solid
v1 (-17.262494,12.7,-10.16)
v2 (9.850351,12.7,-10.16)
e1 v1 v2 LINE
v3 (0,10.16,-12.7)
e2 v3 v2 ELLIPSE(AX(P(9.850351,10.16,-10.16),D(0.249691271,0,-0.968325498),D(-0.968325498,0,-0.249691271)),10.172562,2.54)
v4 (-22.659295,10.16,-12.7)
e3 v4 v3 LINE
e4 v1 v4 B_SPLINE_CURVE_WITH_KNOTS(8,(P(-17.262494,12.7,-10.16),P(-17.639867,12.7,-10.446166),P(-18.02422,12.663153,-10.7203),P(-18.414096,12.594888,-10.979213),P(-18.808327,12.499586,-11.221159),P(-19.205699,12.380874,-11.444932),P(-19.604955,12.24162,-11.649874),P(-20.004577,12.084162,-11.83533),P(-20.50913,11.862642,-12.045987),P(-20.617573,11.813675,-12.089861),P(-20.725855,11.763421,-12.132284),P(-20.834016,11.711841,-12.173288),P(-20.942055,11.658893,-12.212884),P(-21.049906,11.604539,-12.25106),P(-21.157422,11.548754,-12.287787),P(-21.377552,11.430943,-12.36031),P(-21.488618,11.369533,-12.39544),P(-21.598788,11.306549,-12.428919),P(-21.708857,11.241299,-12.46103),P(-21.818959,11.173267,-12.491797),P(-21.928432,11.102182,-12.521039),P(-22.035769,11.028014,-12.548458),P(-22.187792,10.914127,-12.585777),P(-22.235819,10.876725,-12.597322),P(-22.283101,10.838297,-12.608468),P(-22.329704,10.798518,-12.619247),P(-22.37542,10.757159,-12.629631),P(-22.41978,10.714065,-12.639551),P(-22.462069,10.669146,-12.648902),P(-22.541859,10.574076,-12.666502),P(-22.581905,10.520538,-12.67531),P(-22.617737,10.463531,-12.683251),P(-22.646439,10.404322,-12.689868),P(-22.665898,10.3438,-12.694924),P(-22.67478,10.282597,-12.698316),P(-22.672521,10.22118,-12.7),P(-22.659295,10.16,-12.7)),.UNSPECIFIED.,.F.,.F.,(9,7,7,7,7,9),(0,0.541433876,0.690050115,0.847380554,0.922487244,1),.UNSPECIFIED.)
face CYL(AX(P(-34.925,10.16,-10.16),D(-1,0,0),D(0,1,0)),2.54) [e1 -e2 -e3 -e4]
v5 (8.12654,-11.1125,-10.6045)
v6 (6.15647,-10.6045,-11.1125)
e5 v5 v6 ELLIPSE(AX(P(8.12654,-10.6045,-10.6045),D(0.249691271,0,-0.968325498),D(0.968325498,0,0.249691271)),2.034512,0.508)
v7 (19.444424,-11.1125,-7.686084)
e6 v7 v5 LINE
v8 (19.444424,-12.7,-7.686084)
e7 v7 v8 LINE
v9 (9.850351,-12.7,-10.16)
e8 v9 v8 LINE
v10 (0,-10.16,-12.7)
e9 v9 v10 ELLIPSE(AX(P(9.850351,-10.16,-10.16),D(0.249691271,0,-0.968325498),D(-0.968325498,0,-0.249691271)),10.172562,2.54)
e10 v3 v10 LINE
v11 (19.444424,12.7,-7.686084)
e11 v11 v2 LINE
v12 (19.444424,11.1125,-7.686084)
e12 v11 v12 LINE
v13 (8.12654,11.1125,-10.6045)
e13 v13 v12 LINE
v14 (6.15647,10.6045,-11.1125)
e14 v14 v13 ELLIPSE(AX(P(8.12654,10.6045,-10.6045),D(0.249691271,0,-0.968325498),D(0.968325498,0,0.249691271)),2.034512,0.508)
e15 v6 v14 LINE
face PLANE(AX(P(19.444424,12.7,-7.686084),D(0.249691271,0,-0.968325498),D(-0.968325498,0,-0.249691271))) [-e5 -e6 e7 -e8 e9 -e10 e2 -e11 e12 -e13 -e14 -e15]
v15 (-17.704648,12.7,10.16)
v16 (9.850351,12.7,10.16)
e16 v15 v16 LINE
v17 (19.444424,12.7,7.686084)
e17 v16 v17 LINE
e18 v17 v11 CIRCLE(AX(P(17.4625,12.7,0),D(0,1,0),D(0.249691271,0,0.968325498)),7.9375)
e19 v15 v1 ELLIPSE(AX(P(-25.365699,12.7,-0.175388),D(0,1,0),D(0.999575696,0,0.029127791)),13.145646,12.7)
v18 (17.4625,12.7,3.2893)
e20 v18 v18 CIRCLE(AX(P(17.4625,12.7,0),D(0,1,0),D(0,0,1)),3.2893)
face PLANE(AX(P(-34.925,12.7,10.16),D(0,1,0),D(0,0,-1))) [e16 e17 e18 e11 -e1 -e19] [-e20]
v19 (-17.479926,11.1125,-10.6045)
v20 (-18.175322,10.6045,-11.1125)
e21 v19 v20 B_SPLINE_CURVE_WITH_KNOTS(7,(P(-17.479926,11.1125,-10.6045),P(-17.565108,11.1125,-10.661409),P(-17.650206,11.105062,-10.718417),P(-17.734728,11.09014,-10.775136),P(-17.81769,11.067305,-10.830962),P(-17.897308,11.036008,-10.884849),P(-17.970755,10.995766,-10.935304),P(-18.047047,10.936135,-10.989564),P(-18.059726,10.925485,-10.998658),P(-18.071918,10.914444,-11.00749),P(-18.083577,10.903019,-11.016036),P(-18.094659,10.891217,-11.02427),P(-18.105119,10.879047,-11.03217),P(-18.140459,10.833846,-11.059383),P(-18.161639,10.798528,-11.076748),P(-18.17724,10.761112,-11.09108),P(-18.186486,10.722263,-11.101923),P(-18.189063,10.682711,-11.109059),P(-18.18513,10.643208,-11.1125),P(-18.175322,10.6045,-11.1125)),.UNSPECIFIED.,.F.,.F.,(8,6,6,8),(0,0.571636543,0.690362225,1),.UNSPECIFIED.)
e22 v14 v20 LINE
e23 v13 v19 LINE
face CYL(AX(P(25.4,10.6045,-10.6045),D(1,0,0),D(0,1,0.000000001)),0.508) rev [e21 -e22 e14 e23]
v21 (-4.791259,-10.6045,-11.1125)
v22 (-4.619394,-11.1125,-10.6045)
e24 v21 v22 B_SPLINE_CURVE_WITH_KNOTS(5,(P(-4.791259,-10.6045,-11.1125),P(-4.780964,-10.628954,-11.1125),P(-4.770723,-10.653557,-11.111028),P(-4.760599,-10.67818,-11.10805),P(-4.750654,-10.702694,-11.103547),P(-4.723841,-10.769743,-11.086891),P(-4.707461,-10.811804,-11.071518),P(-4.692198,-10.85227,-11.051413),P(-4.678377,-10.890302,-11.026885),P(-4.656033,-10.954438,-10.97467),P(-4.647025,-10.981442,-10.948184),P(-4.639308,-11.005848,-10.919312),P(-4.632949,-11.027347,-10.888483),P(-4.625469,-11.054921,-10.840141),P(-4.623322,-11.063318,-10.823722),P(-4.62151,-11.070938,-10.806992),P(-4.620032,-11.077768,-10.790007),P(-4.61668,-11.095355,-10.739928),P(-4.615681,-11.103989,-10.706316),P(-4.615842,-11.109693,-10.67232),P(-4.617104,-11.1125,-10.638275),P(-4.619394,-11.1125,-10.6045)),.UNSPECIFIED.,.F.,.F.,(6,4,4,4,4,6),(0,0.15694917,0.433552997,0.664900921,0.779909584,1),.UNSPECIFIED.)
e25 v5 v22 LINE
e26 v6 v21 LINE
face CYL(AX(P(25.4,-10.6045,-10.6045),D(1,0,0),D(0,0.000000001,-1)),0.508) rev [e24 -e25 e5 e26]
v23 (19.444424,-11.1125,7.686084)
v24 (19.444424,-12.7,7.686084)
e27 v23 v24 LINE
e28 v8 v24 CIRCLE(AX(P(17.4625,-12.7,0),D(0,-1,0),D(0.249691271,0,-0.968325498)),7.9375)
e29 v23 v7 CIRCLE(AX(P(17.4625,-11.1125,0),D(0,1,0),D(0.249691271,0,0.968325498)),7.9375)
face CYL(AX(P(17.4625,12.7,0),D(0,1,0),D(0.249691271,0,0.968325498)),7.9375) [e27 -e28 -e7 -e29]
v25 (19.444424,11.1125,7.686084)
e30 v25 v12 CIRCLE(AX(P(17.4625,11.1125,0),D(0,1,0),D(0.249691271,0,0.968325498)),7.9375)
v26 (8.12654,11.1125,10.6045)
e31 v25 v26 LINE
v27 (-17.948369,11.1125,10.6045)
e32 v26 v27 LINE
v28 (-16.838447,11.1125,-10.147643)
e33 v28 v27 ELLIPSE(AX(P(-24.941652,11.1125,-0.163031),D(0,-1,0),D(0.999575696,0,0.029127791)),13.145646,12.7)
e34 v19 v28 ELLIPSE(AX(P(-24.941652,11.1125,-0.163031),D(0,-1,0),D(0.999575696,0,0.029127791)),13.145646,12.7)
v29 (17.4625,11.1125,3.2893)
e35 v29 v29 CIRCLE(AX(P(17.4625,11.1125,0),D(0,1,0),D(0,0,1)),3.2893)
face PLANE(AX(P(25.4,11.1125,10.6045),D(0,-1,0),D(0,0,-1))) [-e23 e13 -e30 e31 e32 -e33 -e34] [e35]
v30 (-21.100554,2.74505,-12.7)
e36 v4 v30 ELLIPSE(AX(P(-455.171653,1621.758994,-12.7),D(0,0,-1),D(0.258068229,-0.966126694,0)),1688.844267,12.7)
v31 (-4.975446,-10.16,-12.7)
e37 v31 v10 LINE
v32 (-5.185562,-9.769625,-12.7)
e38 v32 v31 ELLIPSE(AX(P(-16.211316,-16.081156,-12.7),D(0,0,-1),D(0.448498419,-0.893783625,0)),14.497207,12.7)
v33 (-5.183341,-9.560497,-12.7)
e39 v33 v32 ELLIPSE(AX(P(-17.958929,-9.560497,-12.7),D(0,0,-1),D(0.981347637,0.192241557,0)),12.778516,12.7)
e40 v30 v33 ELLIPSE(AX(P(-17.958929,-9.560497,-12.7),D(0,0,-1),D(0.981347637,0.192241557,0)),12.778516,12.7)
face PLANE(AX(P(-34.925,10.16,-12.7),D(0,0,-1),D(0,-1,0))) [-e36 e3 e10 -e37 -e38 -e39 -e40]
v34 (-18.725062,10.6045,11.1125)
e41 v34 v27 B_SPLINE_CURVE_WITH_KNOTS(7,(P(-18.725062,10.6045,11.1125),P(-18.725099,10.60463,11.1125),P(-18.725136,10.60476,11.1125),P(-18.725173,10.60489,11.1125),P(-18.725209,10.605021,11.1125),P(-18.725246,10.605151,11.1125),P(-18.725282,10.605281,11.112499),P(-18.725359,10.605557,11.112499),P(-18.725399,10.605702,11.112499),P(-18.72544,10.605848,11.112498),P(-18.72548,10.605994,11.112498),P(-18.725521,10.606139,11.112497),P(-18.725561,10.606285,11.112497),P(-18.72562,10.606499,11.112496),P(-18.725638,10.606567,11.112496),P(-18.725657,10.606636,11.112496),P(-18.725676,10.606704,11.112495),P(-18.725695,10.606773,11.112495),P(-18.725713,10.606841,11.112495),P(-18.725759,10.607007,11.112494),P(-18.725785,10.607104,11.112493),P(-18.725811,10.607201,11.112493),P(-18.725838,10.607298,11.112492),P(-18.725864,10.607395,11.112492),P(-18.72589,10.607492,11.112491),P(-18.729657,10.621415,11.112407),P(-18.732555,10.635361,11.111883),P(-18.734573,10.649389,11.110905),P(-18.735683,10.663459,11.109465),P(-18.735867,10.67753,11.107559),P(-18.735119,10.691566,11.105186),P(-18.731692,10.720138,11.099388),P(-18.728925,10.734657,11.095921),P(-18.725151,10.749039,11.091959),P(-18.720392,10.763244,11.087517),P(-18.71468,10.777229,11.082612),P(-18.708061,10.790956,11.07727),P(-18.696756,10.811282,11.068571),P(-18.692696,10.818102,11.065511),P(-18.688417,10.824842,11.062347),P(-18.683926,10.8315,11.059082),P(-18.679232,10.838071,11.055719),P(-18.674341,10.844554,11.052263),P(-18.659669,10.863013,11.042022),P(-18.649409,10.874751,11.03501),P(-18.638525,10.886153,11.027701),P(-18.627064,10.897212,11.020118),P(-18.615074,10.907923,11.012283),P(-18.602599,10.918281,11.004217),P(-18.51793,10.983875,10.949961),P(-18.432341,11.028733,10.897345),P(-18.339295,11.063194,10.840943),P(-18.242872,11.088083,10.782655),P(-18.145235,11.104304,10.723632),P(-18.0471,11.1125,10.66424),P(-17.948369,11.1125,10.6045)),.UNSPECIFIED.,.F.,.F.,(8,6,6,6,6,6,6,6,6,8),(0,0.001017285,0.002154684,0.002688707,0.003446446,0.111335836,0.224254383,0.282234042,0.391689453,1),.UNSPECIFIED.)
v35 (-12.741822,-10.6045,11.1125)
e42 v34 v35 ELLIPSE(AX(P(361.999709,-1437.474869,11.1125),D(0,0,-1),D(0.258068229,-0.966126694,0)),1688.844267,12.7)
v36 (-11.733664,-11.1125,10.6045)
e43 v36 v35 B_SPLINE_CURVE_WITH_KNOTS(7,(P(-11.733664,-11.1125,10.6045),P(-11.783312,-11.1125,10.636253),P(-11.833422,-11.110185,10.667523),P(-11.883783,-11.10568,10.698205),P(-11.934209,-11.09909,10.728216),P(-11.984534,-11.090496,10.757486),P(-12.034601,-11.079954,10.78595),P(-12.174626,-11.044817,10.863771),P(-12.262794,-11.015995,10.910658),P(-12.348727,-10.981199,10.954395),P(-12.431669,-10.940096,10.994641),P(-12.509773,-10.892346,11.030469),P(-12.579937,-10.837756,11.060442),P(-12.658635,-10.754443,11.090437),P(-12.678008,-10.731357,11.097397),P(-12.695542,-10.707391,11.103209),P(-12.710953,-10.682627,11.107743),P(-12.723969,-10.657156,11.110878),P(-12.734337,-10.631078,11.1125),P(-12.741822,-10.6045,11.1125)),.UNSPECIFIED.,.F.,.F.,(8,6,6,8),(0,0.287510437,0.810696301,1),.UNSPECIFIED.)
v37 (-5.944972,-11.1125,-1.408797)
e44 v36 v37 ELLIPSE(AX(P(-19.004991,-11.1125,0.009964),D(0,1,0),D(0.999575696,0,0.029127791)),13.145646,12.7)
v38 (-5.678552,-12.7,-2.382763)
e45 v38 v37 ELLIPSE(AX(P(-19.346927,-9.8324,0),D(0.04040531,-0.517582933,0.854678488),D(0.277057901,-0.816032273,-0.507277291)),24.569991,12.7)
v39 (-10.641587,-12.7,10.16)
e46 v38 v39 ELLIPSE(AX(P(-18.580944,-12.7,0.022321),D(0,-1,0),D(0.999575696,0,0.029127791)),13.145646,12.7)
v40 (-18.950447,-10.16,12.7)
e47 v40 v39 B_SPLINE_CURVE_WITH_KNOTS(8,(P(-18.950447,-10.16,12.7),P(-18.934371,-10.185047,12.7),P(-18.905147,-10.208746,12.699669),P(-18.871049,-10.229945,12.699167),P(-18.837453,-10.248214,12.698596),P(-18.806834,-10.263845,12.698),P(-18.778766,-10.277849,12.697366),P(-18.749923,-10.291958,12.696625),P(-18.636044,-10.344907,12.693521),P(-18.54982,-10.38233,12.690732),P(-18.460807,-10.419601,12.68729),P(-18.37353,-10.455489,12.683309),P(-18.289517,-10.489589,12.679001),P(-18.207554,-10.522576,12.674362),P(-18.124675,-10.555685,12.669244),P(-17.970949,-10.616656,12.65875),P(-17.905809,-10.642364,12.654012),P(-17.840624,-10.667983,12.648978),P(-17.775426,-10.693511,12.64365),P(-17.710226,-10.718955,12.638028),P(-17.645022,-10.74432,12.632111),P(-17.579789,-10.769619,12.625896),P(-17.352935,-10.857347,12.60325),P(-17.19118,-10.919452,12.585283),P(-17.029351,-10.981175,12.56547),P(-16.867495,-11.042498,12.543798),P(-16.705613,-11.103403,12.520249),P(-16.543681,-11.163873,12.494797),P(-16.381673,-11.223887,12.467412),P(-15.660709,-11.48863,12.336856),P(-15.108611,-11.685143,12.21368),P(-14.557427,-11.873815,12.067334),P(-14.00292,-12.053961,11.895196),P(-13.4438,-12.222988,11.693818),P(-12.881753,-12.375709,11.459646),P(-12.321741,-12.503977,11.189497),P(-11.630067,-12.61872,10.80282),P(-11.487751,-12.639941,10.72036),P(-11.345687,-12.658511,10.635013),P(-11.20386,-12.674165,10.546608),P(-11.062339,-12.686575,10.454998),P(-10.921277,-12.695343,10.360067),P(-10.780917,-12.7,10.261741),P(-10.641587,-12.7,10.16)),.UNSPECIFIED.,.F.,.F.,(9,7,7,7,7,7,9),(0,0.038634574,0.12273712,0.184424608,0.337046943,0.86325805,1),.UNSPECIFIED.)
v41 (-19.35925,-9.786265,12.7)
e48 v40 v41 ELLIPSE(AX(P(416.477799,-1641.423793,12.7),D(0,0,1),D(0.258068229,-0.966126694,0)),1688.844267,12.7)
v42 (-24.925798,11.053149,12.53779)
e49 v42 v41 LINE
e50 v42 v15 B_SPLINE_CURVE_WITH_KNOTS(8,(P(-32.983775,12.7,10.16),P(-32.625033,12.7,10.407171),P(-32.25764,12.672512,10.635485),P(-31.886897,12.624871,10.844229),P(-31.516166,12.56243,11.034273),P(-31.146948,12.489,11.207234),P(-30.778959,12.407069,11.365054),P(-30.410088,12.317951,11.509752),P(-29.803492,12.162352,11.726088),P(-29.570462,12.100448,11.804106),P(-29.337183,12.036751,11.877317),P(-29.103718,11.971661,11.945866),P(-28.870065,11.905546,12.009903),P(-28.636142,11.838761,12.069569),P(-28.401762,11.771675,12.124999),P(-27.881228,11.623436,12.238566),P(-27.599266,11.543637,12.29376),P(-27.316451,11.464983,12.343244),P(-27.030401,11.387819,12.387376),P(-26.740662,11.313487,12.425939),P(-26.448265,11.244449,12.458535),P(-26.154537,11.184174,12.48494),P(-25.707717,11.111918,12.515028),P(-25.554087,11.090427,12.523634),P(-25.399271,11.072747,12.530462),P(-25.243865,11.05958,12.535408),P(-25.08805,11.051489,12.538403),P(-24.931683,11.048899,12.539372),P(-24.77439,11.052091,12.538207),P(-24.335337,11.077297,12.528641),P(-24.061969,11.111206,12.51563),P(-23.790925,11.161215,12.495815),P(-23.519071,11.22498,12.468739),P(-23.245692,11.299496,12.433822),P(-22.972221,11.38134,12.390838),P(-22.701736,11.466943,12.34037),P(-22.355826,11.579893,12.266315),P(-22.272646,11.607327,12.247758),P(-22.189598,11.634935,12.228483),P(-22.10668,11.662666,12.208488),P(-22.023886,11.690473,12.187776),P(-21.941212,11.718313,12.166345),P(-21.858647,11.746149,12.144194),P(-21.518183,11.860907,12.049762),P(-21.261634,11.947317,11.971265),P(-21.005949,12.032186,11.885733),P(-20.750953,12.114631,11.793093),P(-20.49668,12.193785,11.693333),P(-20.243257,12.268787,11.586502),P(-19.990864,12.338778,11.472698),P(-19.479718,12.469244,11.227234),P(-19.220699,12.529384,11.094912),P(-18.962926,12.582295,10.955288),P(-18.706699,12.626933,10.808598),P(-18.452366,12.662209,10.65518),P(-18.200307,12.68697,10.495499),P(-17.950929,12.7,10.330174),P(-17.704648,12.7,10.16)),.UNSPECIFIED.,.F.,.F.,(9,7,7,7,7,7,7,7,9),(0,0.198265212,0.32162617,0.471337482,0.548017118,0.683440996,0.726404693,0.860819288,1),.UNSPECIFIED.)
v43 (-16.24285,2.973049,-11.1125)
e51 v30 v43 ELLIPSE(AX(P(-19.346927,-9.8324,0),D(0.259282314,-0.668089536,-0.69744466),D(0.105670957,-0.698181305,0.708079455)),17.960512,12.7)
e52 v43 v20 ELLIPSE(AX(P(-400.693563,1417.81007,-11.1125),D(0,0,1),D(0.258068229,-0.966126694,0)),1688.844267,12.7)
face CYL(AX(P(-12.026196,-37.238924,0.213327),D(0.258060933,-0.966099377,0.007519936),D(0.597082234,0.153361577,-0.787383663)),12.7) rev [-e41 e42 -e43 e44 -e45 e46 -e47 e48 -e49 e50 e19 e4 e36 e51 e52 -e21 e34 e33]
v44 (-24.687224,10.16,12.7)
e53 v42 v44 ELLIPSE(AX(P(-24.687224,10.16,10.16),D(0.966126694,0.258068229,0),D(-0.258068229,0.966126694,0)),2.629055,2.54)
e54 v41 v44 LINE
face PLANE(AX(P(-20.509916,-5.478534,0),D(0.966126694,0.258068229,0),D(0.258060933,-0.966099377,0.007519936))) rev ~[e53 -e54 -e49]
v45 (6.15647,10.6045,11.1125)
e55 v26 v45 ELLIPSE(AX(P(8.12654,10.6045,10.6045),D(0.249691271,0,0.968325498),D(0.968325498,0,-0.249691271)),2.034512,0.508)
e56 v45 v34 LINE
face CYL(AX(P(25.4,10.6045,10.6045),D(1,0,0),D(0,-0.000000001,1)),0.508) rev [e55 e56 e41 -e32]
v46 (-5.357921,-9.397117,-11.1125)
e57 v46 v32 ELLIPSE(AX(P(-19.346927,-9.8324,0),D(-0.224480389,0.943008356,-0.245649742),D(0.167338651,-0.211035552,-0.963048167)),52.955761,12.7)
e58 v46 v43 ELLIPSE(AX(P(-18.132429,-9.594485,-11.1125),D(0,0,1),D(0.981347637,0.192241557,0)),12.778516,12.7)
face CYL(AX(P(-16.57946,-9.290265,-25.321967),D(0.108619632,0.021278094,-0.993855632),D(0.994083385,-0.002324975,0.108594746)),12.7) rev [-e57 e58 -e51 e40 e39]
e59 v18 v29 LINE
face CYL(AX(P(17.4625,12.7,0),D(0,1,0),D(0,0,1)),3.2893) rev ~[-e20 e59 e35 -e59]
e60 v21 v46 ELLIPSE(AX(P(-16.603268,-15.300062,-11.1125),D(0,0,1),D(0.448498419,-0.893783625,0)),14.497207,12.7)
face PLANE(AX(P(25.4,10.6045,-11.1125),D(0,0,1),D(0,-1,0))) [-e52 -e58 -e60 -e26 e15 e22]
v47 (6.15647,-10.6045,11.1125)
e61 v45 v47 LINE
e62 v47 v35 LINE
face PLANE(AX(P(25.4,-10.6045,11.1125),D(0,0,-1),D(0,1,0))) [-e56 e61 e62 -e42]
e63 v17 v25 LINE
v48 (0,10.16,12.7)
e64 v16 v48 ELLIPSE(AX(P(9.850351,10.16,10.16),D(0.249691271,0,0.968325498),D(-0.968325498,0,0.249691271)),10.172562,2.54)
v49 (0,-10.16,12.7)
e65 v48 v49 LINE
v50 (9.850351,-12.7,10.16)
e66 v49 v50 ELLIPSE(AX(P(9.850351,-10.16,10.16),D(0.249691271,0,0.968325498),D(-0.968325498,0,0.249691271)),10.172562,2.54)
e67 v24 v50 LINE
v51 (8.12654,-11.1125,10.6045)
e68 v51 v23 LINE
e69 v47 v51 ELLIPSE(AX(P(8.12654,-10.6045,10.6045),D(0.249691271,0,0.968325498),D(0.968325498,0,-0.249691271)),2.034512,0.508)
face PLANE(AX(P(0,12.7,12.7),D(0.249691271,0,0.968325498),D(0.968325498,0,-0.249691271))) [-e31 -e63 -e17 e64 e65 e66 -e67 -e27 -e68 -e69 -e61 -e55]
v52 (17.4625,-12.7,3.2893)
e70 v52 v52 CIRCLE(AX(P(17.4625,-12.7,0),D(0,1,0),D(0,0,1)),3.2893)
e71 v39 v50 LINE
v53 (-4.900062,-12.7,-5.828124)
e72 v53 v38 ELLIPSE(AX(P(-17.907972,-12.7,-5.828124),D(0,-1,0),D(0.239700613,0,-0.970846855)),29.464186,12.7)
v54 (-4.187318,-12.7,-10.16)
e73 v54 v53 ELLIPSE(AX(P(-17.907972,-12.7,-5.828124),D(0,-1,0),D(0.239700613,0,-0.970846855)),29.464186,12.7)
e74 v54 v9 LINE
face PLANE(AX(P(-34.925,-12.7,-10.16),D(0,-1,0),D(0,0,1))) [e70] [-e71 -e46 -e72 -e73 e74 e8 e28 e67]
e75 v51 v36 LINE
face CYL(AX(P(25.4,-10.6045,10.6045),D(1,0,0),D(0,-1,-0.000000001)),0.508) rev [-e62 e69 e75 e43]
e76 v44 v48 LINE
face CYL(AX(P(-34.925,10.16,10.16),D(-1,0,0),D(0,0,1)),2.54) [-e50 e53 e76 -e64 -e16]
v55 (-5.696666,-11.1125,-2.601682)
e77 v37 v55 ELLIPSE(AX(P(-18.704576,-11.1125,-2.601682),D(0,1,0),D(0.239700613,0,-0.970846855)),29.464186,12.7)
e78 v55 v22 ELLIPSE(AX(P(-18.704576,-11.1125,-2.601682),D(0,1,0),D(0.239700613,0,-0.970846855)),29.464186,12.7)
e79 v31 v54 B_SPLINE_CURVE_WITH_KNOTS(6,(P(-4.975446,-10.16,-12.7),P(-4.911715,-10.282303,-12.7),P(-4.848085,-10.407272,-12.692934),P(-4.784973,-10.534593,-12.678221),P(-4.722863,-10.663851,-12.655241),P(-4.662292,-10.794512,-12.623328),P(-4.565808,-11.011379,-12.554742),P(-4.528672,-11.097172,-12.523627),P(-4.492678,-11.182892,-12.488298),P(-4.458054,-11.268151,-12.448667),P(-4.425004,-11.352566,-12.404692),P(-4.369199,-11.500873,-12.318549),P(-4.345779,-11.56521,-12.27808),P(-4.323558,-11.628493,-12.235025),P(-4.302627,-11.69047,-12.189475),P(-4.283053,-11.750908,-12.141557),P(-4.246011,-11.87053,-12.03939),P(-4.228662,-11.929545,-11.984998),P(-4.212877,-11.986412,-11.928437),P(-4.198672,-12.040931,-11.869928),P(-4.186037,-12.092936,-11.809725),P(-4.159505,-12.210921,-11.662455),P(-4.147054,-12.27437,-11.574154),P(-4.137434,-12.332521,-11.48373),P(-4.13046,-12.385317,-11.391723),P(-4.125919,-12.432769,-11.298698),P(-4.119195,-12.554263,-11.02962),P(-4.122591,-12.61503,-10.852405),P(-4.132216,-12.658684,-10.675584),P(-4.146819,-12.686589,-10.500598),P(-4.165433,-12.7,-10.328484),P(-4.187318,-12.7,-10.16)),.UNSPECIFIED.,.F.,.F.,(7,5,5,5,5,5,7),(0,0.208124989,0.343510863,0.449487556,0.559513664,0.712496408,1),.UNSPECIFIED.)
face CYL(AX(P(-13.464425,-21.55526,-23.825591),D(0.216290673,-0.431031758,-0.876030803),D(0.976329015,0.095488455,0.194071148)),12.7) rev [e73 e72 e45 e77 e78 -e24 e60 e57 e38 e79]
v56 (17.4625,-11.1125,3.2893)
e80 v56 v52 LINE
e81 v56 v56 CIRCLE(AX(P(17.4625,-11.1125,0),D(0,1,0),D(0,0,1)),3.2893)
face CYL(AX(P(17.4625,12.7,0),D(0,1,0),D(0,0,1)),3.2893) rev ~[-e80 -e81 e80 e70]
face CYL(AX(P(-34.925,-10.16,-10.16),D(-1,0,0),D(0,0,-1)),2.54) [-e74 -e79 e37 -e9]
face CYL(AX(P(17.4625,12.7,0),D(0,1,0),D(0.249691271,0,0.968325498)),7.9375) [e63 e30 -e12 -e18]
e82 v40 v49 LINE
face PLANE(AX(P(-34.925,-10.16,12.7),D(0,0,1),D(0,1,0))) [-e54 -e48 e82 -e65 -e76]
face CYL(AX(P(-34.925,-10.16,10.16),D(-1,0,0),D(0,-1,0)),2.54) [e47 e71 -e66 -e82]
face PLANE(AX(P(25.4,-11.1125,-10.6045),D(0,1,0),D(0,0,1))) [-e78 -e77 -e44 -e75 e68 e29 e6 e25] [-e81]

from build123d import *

# Parameters (mm, degrees)
BOSS_EXTRUDE1_DEPTH      = 25.4
BOSS_EXTRUDE1_DEPTH_BACK = 34.925
CUT_EXTRUDE4_DEPTH       = 63.941922635
CUT_EXTRUDE5_DEPTH       = 46.01339384
SKETCH14_R               = 3.2893
CUT_EXTRUDE6_DEPTH       = 46.01339384
CUT_EXTRUDE7_DEPTH       = 38.1
CUT_EXTRUDE7_DEPTH_BACK  = 25.4
SKETCH15_R               = 12.7
CUT_EXTRUDE21_DEPTH      = 14.732
CUT_EXTRUDE21_DEPTH_BACK = 25.4
SKETCH16_R               = 12.7
CUT_EXTRUDE22_DEPTH      = 16.51
CUT_EXTRUDE22_DEPTH_BACK = 12.7
SKETCH17_R               = 12.7
CUT_EXTRUDE23_DEPTH      = 16.51
CUT_EXTRUDE23_DEPTH_BACK = 12.7
SKETCH18_R               = 12.7
CUT_EXTRUDE24_DEPTH      = 12.7
CUT_EXTRUDE24_DEPTH_BACK = 12.7
SKETCH19_R               = 12.7
SKETCH20_W               = 58.413051364
SKETCH20_H               = 40.891520134
CUT_EXTRUDE25_DEPTH      = 51.98499249


with BuildPart() as part:
    # Sketch1 → Boss-Extrude1 (new, two sides: drawn at the far end of the back side and taken through both)
    with BuildSketch(Plane(origin=(0, 0, 0), x_dir=(0, 0, -1), z_dir=(1, 0, 0)).offset(-BOSS_EXTRUDE1_DEPTH_BACK)):
        with BuildLine():
            Line((-10.16, 12.7), (10.16, 12.7))
            ThreePointArc((10.16, 12.7), (11.956051224, 11.956051224), (12.7, 10.16))
            Line((12.7, 10.16), (12.7, -10.16))
            ThreePointArc((12.7, -10.16), (11.956051224, -11.956051224), (10.16, -12.7))
            Line((10.16, -12.7), (-10.16, -12.7))
            ThreePointArc((-10.16, -12.7), (-11.956051224, -11.956051224), (-12.7, -10.16))
            Line((-12.7, -10.16), (-12.7, 10.16))
            ThreePointArc((-12.7, 10.16), (-11.956051224, 11.956051224), (-10.16, 12.7))
        make_face()
    extrude(amount=BOSS_EXTRUDE1_DEPTH + BOSS_EXTRUDE1_DEPTH_BACK)

    # Sketch11 → Cut-Extrude4 (cut, through all)
    with BuildSketch(Plane(origin=(25.4, 0, 0), x_dir=(0, 0, -1), z_dir=(1, 0, 0))):
        with BuildLine():
            Line((-10.6045, 11.1125), (10.6045, 11.1125))
            ThreePointArc((10.6045, 11.1125), (10.963710245, 10.963710245), (11.1125, 10.6045))
            Line((11.1125, 10.6045), (11.1125, -10.6045))
            ThreePointArc((11.1125, -10.6045), (10.963710245, -10.963710245), (10.6045, -11.1125))
            Line((10.6045, -11.1125), (-10.6045, -11.1125))
            ThreePointArc((-10.6045, -11.1125), (-10.963710245, -10.963710245), (-11.1125, -10.6045))
            Line((-11.1125, -10.6045), (-11.1125, 10.6045))
            ThreePointArc((-11.1125, 10.6045), (-10.963710245, 10.963710245), (-10.6045, 11.1125))
        make_face()
    extrude(amount=-CUT_EXTRUDE4_DEPTH, mode=Mode.SUBTRACT)

    # Sketch12 → Cut-Extrude5 (cut, through all)
    with BuildSketch(Plane(origin=(0, 12.7, 0), x_dir=(1, 0, 0), z_dir=(0, 1, 0))):
        with BuildLine():
            Line((50.8, 12.7), (0, 12.7))
            Line((0, 12.7), (19.444424463, 7.686083637))
            ThreePointArc((19.444424463, 7.686083637), (25.4, 0), (19.444424463, -7.686083637))
            Line((19.444424463, -7.686083637), (0, -12.7))
            Line((0, -12.7), (50.8, -12.7))
            Line((50.8, -12.7), (50.8, 12.7))
        make_face()
    extrude(amount=-CUT_EXTRUDE5_DEPTH, mode=Mode.SUBTRACT)

    # Sketch14 → Cut-Extrude6 (cut, through all)
    with BuildSketch(Plane(origin=(0, 12.7, 0), x_dir=(1, 0, 0), z_dir=(0, 1, 0))):
        with Locations((17.4625, 0)):
            Circle(SKETCH14_R)
    extrude(amount=-CUT_EXTRUDE6_DEPTH, mode=Mode.SUBTRACT)

    # Sketch15 → Cut-Extrude7 (cut, two sides: drawn at the far end of the back side and taken through both)
    with BuildSketch(Plane(origin=(-18.580944095, -12.7, 0.022320862), x_dir=(0.966128643141705, 0.25805311522873825, -0.0020086368292127157), z_dir=(-0.2580609325356477, 0.9660993767043436, -0.007519935525706381)).offset(-CUT_EXTRUDE7_DEPTH_BACK)):
        Circle(SKETCH15_R)
    extrude(amount=CUT_EXTRUDE7_DEPTH + CUT_EXTRUDE7_DEPTH_BACK, mode=Mode.SUBTRACT)

    # Sketch16 → Cut-Extrude21 (cut, two sides: drawn at the far end of the back side and taken through both)
    with BuildSketch(Plane(origin=(-34.925, -13.993557422, 0), x_dir=(0, 0, -1), z_dir=(0.9661266940476224, 0.2580682294444863, 0)).offset(-CUT_EXTRUDE21_DEPTH_BACK)):
        Circle(SKETCH16_R)
    extrude(amount=CUT_EXTRUDE21_DEPTH + CUT_EXTRUDE21_DEPTH_BACK, mode=Mode.SUBTRACT)

    # Sketch17 → Cut-Extrude22 (cut, two sides: drawn at the far end of the back side and taken through both)
    with BuildSketch(Plane(origin=(-29.427114325, -12.623836713, -12.7), x_dir=(0.7903344181486555, -0.13152541034589554, -0.5983916559603502), z_dir=(0.6126756952006717, 0.1696640808045107, 0.7719084092009455)).offset(-CUT_EXTRUDE22_DEPTH_BACK)):
        Circle(SKETCH17_R)
    extrude(amount=CUT_EXTRUDE22_DEPTH + CUT_EXTRUDE22_DEPTH_BACK, mode=Mode.SUBTRACT)


with BuildPart() as cut_extrude22_piece_1:
    # of the separate pieces the step leaves, piece 1, a body of its own (cut_extrude22_pieces)
    add(part.part.solids().sort_by_distance((-34.925, 10.16, 12.7))[0])


with BuildPart() as cut_extrude22_piece_2:
    # of the separate pieces the step leaves, piece 2, a body of its own (cut_extrude22_pieces)
    add(part.part.solids().sort_by_distance((-28.657579441, 0.553532164, -11.1125))[0])


with BuildPart() as cut_extrude23_tool:
    # Sketch18 → Cut-Extrude23 (new, two sides: drawn at the far end of the back side and taken through both)
    with BuildSketch(Plane(origin=(-17.958929348, -9.56049708, -12.7), x_dir=(0.9940833845942288, -0.002324974713650623, 0.10859474649477009), z_dir=(-0.10861963208224606, -0.02127809391484378, 0.9938556324968274)).offset(-CUT_EXTRUDE23_DEPTH_BACK)):
        Circle(SKETCH18_R)
    extrude(amount=CUT_EXTRUDE23_DEPTH + CUT_EXTRUDE23_DEPTH_BACK)


with BuildPart() as cut_extrude22_piece_1_1:
    add(cut_extrude22_piece_1.part)

    # Cut-Extrude23: cut by cut_extrude23_tool
    add(cut_extrude23_tool.part, mode=Mode.SUBTRACT)

    # Sketch19 → Cut-Extrude24 (cut, two sides: drawn at the far end of the back side and taken through both)
    with BuildSketch(Plane(origin=(-16.211316351, -16.081156217, -12.7), x_dir=(0.9763290145154149, 0.09548845507502933, 0.1940711476823458), z_dir=(-0.21629067343590844, 0.43103175814295297, 0.8760308031438372)).offset(-CUT_EXTRUDE24_DEPTH_BACK)):
        Circle(SKETCH19_R)
    extrude(amount=CUT_EXTRUDE24_DEPTH + CUT_EXTRUDE24_DEPTH_BACK, mode=Mode.SUBTRACT)


with BuildPart() as cut_extrude22_piece_2_1:
    add(cut_extrude22_piece_2.part)

    # Cut-Extrude23: cut by cut_extrude23_tool
    add(cut_extrude23_tool.part, mode=Mode.SUBTRACT)


with BuildPart() as cut_extrude25_tool:
    # Sketch20 → Cut-Extrude25 (new, through all)
    with BuildSketch(Plane(origin=(-20.509915766, -5.478533696, 0), x_dir=(0.25806093253564766, -0.9660993767043435, 0.007519935525706381), z_dir=(0.9661266940476224, 0.2580682294444864, 0))):
        Rectangle(SKETCH20_W, SKETCH20_H)
    extrude(amount=-CUT_EXTRUDE25_DEPTH)


with BuildPart() as cut_extrude22_piece_1_2:
    add(cut_extrude22_piece_1_1.part)

    # Cut-Extrude25: cut by cut_extrude25_tool
    add(cut_extrude25_tool.part, mode=Mode.SUBTRACT)


with BuildPart() as cut_extrude22_piece_2_2:
    add(cut_extrude22_piece_2_1.part)

    # Cut-Extrude25: cut by cut_extrude25_tool
    add(cut_extrude25_tool.part, mode=Mode.SUBTRACT)


solid = cut_extrude22_piece_1_2.part
